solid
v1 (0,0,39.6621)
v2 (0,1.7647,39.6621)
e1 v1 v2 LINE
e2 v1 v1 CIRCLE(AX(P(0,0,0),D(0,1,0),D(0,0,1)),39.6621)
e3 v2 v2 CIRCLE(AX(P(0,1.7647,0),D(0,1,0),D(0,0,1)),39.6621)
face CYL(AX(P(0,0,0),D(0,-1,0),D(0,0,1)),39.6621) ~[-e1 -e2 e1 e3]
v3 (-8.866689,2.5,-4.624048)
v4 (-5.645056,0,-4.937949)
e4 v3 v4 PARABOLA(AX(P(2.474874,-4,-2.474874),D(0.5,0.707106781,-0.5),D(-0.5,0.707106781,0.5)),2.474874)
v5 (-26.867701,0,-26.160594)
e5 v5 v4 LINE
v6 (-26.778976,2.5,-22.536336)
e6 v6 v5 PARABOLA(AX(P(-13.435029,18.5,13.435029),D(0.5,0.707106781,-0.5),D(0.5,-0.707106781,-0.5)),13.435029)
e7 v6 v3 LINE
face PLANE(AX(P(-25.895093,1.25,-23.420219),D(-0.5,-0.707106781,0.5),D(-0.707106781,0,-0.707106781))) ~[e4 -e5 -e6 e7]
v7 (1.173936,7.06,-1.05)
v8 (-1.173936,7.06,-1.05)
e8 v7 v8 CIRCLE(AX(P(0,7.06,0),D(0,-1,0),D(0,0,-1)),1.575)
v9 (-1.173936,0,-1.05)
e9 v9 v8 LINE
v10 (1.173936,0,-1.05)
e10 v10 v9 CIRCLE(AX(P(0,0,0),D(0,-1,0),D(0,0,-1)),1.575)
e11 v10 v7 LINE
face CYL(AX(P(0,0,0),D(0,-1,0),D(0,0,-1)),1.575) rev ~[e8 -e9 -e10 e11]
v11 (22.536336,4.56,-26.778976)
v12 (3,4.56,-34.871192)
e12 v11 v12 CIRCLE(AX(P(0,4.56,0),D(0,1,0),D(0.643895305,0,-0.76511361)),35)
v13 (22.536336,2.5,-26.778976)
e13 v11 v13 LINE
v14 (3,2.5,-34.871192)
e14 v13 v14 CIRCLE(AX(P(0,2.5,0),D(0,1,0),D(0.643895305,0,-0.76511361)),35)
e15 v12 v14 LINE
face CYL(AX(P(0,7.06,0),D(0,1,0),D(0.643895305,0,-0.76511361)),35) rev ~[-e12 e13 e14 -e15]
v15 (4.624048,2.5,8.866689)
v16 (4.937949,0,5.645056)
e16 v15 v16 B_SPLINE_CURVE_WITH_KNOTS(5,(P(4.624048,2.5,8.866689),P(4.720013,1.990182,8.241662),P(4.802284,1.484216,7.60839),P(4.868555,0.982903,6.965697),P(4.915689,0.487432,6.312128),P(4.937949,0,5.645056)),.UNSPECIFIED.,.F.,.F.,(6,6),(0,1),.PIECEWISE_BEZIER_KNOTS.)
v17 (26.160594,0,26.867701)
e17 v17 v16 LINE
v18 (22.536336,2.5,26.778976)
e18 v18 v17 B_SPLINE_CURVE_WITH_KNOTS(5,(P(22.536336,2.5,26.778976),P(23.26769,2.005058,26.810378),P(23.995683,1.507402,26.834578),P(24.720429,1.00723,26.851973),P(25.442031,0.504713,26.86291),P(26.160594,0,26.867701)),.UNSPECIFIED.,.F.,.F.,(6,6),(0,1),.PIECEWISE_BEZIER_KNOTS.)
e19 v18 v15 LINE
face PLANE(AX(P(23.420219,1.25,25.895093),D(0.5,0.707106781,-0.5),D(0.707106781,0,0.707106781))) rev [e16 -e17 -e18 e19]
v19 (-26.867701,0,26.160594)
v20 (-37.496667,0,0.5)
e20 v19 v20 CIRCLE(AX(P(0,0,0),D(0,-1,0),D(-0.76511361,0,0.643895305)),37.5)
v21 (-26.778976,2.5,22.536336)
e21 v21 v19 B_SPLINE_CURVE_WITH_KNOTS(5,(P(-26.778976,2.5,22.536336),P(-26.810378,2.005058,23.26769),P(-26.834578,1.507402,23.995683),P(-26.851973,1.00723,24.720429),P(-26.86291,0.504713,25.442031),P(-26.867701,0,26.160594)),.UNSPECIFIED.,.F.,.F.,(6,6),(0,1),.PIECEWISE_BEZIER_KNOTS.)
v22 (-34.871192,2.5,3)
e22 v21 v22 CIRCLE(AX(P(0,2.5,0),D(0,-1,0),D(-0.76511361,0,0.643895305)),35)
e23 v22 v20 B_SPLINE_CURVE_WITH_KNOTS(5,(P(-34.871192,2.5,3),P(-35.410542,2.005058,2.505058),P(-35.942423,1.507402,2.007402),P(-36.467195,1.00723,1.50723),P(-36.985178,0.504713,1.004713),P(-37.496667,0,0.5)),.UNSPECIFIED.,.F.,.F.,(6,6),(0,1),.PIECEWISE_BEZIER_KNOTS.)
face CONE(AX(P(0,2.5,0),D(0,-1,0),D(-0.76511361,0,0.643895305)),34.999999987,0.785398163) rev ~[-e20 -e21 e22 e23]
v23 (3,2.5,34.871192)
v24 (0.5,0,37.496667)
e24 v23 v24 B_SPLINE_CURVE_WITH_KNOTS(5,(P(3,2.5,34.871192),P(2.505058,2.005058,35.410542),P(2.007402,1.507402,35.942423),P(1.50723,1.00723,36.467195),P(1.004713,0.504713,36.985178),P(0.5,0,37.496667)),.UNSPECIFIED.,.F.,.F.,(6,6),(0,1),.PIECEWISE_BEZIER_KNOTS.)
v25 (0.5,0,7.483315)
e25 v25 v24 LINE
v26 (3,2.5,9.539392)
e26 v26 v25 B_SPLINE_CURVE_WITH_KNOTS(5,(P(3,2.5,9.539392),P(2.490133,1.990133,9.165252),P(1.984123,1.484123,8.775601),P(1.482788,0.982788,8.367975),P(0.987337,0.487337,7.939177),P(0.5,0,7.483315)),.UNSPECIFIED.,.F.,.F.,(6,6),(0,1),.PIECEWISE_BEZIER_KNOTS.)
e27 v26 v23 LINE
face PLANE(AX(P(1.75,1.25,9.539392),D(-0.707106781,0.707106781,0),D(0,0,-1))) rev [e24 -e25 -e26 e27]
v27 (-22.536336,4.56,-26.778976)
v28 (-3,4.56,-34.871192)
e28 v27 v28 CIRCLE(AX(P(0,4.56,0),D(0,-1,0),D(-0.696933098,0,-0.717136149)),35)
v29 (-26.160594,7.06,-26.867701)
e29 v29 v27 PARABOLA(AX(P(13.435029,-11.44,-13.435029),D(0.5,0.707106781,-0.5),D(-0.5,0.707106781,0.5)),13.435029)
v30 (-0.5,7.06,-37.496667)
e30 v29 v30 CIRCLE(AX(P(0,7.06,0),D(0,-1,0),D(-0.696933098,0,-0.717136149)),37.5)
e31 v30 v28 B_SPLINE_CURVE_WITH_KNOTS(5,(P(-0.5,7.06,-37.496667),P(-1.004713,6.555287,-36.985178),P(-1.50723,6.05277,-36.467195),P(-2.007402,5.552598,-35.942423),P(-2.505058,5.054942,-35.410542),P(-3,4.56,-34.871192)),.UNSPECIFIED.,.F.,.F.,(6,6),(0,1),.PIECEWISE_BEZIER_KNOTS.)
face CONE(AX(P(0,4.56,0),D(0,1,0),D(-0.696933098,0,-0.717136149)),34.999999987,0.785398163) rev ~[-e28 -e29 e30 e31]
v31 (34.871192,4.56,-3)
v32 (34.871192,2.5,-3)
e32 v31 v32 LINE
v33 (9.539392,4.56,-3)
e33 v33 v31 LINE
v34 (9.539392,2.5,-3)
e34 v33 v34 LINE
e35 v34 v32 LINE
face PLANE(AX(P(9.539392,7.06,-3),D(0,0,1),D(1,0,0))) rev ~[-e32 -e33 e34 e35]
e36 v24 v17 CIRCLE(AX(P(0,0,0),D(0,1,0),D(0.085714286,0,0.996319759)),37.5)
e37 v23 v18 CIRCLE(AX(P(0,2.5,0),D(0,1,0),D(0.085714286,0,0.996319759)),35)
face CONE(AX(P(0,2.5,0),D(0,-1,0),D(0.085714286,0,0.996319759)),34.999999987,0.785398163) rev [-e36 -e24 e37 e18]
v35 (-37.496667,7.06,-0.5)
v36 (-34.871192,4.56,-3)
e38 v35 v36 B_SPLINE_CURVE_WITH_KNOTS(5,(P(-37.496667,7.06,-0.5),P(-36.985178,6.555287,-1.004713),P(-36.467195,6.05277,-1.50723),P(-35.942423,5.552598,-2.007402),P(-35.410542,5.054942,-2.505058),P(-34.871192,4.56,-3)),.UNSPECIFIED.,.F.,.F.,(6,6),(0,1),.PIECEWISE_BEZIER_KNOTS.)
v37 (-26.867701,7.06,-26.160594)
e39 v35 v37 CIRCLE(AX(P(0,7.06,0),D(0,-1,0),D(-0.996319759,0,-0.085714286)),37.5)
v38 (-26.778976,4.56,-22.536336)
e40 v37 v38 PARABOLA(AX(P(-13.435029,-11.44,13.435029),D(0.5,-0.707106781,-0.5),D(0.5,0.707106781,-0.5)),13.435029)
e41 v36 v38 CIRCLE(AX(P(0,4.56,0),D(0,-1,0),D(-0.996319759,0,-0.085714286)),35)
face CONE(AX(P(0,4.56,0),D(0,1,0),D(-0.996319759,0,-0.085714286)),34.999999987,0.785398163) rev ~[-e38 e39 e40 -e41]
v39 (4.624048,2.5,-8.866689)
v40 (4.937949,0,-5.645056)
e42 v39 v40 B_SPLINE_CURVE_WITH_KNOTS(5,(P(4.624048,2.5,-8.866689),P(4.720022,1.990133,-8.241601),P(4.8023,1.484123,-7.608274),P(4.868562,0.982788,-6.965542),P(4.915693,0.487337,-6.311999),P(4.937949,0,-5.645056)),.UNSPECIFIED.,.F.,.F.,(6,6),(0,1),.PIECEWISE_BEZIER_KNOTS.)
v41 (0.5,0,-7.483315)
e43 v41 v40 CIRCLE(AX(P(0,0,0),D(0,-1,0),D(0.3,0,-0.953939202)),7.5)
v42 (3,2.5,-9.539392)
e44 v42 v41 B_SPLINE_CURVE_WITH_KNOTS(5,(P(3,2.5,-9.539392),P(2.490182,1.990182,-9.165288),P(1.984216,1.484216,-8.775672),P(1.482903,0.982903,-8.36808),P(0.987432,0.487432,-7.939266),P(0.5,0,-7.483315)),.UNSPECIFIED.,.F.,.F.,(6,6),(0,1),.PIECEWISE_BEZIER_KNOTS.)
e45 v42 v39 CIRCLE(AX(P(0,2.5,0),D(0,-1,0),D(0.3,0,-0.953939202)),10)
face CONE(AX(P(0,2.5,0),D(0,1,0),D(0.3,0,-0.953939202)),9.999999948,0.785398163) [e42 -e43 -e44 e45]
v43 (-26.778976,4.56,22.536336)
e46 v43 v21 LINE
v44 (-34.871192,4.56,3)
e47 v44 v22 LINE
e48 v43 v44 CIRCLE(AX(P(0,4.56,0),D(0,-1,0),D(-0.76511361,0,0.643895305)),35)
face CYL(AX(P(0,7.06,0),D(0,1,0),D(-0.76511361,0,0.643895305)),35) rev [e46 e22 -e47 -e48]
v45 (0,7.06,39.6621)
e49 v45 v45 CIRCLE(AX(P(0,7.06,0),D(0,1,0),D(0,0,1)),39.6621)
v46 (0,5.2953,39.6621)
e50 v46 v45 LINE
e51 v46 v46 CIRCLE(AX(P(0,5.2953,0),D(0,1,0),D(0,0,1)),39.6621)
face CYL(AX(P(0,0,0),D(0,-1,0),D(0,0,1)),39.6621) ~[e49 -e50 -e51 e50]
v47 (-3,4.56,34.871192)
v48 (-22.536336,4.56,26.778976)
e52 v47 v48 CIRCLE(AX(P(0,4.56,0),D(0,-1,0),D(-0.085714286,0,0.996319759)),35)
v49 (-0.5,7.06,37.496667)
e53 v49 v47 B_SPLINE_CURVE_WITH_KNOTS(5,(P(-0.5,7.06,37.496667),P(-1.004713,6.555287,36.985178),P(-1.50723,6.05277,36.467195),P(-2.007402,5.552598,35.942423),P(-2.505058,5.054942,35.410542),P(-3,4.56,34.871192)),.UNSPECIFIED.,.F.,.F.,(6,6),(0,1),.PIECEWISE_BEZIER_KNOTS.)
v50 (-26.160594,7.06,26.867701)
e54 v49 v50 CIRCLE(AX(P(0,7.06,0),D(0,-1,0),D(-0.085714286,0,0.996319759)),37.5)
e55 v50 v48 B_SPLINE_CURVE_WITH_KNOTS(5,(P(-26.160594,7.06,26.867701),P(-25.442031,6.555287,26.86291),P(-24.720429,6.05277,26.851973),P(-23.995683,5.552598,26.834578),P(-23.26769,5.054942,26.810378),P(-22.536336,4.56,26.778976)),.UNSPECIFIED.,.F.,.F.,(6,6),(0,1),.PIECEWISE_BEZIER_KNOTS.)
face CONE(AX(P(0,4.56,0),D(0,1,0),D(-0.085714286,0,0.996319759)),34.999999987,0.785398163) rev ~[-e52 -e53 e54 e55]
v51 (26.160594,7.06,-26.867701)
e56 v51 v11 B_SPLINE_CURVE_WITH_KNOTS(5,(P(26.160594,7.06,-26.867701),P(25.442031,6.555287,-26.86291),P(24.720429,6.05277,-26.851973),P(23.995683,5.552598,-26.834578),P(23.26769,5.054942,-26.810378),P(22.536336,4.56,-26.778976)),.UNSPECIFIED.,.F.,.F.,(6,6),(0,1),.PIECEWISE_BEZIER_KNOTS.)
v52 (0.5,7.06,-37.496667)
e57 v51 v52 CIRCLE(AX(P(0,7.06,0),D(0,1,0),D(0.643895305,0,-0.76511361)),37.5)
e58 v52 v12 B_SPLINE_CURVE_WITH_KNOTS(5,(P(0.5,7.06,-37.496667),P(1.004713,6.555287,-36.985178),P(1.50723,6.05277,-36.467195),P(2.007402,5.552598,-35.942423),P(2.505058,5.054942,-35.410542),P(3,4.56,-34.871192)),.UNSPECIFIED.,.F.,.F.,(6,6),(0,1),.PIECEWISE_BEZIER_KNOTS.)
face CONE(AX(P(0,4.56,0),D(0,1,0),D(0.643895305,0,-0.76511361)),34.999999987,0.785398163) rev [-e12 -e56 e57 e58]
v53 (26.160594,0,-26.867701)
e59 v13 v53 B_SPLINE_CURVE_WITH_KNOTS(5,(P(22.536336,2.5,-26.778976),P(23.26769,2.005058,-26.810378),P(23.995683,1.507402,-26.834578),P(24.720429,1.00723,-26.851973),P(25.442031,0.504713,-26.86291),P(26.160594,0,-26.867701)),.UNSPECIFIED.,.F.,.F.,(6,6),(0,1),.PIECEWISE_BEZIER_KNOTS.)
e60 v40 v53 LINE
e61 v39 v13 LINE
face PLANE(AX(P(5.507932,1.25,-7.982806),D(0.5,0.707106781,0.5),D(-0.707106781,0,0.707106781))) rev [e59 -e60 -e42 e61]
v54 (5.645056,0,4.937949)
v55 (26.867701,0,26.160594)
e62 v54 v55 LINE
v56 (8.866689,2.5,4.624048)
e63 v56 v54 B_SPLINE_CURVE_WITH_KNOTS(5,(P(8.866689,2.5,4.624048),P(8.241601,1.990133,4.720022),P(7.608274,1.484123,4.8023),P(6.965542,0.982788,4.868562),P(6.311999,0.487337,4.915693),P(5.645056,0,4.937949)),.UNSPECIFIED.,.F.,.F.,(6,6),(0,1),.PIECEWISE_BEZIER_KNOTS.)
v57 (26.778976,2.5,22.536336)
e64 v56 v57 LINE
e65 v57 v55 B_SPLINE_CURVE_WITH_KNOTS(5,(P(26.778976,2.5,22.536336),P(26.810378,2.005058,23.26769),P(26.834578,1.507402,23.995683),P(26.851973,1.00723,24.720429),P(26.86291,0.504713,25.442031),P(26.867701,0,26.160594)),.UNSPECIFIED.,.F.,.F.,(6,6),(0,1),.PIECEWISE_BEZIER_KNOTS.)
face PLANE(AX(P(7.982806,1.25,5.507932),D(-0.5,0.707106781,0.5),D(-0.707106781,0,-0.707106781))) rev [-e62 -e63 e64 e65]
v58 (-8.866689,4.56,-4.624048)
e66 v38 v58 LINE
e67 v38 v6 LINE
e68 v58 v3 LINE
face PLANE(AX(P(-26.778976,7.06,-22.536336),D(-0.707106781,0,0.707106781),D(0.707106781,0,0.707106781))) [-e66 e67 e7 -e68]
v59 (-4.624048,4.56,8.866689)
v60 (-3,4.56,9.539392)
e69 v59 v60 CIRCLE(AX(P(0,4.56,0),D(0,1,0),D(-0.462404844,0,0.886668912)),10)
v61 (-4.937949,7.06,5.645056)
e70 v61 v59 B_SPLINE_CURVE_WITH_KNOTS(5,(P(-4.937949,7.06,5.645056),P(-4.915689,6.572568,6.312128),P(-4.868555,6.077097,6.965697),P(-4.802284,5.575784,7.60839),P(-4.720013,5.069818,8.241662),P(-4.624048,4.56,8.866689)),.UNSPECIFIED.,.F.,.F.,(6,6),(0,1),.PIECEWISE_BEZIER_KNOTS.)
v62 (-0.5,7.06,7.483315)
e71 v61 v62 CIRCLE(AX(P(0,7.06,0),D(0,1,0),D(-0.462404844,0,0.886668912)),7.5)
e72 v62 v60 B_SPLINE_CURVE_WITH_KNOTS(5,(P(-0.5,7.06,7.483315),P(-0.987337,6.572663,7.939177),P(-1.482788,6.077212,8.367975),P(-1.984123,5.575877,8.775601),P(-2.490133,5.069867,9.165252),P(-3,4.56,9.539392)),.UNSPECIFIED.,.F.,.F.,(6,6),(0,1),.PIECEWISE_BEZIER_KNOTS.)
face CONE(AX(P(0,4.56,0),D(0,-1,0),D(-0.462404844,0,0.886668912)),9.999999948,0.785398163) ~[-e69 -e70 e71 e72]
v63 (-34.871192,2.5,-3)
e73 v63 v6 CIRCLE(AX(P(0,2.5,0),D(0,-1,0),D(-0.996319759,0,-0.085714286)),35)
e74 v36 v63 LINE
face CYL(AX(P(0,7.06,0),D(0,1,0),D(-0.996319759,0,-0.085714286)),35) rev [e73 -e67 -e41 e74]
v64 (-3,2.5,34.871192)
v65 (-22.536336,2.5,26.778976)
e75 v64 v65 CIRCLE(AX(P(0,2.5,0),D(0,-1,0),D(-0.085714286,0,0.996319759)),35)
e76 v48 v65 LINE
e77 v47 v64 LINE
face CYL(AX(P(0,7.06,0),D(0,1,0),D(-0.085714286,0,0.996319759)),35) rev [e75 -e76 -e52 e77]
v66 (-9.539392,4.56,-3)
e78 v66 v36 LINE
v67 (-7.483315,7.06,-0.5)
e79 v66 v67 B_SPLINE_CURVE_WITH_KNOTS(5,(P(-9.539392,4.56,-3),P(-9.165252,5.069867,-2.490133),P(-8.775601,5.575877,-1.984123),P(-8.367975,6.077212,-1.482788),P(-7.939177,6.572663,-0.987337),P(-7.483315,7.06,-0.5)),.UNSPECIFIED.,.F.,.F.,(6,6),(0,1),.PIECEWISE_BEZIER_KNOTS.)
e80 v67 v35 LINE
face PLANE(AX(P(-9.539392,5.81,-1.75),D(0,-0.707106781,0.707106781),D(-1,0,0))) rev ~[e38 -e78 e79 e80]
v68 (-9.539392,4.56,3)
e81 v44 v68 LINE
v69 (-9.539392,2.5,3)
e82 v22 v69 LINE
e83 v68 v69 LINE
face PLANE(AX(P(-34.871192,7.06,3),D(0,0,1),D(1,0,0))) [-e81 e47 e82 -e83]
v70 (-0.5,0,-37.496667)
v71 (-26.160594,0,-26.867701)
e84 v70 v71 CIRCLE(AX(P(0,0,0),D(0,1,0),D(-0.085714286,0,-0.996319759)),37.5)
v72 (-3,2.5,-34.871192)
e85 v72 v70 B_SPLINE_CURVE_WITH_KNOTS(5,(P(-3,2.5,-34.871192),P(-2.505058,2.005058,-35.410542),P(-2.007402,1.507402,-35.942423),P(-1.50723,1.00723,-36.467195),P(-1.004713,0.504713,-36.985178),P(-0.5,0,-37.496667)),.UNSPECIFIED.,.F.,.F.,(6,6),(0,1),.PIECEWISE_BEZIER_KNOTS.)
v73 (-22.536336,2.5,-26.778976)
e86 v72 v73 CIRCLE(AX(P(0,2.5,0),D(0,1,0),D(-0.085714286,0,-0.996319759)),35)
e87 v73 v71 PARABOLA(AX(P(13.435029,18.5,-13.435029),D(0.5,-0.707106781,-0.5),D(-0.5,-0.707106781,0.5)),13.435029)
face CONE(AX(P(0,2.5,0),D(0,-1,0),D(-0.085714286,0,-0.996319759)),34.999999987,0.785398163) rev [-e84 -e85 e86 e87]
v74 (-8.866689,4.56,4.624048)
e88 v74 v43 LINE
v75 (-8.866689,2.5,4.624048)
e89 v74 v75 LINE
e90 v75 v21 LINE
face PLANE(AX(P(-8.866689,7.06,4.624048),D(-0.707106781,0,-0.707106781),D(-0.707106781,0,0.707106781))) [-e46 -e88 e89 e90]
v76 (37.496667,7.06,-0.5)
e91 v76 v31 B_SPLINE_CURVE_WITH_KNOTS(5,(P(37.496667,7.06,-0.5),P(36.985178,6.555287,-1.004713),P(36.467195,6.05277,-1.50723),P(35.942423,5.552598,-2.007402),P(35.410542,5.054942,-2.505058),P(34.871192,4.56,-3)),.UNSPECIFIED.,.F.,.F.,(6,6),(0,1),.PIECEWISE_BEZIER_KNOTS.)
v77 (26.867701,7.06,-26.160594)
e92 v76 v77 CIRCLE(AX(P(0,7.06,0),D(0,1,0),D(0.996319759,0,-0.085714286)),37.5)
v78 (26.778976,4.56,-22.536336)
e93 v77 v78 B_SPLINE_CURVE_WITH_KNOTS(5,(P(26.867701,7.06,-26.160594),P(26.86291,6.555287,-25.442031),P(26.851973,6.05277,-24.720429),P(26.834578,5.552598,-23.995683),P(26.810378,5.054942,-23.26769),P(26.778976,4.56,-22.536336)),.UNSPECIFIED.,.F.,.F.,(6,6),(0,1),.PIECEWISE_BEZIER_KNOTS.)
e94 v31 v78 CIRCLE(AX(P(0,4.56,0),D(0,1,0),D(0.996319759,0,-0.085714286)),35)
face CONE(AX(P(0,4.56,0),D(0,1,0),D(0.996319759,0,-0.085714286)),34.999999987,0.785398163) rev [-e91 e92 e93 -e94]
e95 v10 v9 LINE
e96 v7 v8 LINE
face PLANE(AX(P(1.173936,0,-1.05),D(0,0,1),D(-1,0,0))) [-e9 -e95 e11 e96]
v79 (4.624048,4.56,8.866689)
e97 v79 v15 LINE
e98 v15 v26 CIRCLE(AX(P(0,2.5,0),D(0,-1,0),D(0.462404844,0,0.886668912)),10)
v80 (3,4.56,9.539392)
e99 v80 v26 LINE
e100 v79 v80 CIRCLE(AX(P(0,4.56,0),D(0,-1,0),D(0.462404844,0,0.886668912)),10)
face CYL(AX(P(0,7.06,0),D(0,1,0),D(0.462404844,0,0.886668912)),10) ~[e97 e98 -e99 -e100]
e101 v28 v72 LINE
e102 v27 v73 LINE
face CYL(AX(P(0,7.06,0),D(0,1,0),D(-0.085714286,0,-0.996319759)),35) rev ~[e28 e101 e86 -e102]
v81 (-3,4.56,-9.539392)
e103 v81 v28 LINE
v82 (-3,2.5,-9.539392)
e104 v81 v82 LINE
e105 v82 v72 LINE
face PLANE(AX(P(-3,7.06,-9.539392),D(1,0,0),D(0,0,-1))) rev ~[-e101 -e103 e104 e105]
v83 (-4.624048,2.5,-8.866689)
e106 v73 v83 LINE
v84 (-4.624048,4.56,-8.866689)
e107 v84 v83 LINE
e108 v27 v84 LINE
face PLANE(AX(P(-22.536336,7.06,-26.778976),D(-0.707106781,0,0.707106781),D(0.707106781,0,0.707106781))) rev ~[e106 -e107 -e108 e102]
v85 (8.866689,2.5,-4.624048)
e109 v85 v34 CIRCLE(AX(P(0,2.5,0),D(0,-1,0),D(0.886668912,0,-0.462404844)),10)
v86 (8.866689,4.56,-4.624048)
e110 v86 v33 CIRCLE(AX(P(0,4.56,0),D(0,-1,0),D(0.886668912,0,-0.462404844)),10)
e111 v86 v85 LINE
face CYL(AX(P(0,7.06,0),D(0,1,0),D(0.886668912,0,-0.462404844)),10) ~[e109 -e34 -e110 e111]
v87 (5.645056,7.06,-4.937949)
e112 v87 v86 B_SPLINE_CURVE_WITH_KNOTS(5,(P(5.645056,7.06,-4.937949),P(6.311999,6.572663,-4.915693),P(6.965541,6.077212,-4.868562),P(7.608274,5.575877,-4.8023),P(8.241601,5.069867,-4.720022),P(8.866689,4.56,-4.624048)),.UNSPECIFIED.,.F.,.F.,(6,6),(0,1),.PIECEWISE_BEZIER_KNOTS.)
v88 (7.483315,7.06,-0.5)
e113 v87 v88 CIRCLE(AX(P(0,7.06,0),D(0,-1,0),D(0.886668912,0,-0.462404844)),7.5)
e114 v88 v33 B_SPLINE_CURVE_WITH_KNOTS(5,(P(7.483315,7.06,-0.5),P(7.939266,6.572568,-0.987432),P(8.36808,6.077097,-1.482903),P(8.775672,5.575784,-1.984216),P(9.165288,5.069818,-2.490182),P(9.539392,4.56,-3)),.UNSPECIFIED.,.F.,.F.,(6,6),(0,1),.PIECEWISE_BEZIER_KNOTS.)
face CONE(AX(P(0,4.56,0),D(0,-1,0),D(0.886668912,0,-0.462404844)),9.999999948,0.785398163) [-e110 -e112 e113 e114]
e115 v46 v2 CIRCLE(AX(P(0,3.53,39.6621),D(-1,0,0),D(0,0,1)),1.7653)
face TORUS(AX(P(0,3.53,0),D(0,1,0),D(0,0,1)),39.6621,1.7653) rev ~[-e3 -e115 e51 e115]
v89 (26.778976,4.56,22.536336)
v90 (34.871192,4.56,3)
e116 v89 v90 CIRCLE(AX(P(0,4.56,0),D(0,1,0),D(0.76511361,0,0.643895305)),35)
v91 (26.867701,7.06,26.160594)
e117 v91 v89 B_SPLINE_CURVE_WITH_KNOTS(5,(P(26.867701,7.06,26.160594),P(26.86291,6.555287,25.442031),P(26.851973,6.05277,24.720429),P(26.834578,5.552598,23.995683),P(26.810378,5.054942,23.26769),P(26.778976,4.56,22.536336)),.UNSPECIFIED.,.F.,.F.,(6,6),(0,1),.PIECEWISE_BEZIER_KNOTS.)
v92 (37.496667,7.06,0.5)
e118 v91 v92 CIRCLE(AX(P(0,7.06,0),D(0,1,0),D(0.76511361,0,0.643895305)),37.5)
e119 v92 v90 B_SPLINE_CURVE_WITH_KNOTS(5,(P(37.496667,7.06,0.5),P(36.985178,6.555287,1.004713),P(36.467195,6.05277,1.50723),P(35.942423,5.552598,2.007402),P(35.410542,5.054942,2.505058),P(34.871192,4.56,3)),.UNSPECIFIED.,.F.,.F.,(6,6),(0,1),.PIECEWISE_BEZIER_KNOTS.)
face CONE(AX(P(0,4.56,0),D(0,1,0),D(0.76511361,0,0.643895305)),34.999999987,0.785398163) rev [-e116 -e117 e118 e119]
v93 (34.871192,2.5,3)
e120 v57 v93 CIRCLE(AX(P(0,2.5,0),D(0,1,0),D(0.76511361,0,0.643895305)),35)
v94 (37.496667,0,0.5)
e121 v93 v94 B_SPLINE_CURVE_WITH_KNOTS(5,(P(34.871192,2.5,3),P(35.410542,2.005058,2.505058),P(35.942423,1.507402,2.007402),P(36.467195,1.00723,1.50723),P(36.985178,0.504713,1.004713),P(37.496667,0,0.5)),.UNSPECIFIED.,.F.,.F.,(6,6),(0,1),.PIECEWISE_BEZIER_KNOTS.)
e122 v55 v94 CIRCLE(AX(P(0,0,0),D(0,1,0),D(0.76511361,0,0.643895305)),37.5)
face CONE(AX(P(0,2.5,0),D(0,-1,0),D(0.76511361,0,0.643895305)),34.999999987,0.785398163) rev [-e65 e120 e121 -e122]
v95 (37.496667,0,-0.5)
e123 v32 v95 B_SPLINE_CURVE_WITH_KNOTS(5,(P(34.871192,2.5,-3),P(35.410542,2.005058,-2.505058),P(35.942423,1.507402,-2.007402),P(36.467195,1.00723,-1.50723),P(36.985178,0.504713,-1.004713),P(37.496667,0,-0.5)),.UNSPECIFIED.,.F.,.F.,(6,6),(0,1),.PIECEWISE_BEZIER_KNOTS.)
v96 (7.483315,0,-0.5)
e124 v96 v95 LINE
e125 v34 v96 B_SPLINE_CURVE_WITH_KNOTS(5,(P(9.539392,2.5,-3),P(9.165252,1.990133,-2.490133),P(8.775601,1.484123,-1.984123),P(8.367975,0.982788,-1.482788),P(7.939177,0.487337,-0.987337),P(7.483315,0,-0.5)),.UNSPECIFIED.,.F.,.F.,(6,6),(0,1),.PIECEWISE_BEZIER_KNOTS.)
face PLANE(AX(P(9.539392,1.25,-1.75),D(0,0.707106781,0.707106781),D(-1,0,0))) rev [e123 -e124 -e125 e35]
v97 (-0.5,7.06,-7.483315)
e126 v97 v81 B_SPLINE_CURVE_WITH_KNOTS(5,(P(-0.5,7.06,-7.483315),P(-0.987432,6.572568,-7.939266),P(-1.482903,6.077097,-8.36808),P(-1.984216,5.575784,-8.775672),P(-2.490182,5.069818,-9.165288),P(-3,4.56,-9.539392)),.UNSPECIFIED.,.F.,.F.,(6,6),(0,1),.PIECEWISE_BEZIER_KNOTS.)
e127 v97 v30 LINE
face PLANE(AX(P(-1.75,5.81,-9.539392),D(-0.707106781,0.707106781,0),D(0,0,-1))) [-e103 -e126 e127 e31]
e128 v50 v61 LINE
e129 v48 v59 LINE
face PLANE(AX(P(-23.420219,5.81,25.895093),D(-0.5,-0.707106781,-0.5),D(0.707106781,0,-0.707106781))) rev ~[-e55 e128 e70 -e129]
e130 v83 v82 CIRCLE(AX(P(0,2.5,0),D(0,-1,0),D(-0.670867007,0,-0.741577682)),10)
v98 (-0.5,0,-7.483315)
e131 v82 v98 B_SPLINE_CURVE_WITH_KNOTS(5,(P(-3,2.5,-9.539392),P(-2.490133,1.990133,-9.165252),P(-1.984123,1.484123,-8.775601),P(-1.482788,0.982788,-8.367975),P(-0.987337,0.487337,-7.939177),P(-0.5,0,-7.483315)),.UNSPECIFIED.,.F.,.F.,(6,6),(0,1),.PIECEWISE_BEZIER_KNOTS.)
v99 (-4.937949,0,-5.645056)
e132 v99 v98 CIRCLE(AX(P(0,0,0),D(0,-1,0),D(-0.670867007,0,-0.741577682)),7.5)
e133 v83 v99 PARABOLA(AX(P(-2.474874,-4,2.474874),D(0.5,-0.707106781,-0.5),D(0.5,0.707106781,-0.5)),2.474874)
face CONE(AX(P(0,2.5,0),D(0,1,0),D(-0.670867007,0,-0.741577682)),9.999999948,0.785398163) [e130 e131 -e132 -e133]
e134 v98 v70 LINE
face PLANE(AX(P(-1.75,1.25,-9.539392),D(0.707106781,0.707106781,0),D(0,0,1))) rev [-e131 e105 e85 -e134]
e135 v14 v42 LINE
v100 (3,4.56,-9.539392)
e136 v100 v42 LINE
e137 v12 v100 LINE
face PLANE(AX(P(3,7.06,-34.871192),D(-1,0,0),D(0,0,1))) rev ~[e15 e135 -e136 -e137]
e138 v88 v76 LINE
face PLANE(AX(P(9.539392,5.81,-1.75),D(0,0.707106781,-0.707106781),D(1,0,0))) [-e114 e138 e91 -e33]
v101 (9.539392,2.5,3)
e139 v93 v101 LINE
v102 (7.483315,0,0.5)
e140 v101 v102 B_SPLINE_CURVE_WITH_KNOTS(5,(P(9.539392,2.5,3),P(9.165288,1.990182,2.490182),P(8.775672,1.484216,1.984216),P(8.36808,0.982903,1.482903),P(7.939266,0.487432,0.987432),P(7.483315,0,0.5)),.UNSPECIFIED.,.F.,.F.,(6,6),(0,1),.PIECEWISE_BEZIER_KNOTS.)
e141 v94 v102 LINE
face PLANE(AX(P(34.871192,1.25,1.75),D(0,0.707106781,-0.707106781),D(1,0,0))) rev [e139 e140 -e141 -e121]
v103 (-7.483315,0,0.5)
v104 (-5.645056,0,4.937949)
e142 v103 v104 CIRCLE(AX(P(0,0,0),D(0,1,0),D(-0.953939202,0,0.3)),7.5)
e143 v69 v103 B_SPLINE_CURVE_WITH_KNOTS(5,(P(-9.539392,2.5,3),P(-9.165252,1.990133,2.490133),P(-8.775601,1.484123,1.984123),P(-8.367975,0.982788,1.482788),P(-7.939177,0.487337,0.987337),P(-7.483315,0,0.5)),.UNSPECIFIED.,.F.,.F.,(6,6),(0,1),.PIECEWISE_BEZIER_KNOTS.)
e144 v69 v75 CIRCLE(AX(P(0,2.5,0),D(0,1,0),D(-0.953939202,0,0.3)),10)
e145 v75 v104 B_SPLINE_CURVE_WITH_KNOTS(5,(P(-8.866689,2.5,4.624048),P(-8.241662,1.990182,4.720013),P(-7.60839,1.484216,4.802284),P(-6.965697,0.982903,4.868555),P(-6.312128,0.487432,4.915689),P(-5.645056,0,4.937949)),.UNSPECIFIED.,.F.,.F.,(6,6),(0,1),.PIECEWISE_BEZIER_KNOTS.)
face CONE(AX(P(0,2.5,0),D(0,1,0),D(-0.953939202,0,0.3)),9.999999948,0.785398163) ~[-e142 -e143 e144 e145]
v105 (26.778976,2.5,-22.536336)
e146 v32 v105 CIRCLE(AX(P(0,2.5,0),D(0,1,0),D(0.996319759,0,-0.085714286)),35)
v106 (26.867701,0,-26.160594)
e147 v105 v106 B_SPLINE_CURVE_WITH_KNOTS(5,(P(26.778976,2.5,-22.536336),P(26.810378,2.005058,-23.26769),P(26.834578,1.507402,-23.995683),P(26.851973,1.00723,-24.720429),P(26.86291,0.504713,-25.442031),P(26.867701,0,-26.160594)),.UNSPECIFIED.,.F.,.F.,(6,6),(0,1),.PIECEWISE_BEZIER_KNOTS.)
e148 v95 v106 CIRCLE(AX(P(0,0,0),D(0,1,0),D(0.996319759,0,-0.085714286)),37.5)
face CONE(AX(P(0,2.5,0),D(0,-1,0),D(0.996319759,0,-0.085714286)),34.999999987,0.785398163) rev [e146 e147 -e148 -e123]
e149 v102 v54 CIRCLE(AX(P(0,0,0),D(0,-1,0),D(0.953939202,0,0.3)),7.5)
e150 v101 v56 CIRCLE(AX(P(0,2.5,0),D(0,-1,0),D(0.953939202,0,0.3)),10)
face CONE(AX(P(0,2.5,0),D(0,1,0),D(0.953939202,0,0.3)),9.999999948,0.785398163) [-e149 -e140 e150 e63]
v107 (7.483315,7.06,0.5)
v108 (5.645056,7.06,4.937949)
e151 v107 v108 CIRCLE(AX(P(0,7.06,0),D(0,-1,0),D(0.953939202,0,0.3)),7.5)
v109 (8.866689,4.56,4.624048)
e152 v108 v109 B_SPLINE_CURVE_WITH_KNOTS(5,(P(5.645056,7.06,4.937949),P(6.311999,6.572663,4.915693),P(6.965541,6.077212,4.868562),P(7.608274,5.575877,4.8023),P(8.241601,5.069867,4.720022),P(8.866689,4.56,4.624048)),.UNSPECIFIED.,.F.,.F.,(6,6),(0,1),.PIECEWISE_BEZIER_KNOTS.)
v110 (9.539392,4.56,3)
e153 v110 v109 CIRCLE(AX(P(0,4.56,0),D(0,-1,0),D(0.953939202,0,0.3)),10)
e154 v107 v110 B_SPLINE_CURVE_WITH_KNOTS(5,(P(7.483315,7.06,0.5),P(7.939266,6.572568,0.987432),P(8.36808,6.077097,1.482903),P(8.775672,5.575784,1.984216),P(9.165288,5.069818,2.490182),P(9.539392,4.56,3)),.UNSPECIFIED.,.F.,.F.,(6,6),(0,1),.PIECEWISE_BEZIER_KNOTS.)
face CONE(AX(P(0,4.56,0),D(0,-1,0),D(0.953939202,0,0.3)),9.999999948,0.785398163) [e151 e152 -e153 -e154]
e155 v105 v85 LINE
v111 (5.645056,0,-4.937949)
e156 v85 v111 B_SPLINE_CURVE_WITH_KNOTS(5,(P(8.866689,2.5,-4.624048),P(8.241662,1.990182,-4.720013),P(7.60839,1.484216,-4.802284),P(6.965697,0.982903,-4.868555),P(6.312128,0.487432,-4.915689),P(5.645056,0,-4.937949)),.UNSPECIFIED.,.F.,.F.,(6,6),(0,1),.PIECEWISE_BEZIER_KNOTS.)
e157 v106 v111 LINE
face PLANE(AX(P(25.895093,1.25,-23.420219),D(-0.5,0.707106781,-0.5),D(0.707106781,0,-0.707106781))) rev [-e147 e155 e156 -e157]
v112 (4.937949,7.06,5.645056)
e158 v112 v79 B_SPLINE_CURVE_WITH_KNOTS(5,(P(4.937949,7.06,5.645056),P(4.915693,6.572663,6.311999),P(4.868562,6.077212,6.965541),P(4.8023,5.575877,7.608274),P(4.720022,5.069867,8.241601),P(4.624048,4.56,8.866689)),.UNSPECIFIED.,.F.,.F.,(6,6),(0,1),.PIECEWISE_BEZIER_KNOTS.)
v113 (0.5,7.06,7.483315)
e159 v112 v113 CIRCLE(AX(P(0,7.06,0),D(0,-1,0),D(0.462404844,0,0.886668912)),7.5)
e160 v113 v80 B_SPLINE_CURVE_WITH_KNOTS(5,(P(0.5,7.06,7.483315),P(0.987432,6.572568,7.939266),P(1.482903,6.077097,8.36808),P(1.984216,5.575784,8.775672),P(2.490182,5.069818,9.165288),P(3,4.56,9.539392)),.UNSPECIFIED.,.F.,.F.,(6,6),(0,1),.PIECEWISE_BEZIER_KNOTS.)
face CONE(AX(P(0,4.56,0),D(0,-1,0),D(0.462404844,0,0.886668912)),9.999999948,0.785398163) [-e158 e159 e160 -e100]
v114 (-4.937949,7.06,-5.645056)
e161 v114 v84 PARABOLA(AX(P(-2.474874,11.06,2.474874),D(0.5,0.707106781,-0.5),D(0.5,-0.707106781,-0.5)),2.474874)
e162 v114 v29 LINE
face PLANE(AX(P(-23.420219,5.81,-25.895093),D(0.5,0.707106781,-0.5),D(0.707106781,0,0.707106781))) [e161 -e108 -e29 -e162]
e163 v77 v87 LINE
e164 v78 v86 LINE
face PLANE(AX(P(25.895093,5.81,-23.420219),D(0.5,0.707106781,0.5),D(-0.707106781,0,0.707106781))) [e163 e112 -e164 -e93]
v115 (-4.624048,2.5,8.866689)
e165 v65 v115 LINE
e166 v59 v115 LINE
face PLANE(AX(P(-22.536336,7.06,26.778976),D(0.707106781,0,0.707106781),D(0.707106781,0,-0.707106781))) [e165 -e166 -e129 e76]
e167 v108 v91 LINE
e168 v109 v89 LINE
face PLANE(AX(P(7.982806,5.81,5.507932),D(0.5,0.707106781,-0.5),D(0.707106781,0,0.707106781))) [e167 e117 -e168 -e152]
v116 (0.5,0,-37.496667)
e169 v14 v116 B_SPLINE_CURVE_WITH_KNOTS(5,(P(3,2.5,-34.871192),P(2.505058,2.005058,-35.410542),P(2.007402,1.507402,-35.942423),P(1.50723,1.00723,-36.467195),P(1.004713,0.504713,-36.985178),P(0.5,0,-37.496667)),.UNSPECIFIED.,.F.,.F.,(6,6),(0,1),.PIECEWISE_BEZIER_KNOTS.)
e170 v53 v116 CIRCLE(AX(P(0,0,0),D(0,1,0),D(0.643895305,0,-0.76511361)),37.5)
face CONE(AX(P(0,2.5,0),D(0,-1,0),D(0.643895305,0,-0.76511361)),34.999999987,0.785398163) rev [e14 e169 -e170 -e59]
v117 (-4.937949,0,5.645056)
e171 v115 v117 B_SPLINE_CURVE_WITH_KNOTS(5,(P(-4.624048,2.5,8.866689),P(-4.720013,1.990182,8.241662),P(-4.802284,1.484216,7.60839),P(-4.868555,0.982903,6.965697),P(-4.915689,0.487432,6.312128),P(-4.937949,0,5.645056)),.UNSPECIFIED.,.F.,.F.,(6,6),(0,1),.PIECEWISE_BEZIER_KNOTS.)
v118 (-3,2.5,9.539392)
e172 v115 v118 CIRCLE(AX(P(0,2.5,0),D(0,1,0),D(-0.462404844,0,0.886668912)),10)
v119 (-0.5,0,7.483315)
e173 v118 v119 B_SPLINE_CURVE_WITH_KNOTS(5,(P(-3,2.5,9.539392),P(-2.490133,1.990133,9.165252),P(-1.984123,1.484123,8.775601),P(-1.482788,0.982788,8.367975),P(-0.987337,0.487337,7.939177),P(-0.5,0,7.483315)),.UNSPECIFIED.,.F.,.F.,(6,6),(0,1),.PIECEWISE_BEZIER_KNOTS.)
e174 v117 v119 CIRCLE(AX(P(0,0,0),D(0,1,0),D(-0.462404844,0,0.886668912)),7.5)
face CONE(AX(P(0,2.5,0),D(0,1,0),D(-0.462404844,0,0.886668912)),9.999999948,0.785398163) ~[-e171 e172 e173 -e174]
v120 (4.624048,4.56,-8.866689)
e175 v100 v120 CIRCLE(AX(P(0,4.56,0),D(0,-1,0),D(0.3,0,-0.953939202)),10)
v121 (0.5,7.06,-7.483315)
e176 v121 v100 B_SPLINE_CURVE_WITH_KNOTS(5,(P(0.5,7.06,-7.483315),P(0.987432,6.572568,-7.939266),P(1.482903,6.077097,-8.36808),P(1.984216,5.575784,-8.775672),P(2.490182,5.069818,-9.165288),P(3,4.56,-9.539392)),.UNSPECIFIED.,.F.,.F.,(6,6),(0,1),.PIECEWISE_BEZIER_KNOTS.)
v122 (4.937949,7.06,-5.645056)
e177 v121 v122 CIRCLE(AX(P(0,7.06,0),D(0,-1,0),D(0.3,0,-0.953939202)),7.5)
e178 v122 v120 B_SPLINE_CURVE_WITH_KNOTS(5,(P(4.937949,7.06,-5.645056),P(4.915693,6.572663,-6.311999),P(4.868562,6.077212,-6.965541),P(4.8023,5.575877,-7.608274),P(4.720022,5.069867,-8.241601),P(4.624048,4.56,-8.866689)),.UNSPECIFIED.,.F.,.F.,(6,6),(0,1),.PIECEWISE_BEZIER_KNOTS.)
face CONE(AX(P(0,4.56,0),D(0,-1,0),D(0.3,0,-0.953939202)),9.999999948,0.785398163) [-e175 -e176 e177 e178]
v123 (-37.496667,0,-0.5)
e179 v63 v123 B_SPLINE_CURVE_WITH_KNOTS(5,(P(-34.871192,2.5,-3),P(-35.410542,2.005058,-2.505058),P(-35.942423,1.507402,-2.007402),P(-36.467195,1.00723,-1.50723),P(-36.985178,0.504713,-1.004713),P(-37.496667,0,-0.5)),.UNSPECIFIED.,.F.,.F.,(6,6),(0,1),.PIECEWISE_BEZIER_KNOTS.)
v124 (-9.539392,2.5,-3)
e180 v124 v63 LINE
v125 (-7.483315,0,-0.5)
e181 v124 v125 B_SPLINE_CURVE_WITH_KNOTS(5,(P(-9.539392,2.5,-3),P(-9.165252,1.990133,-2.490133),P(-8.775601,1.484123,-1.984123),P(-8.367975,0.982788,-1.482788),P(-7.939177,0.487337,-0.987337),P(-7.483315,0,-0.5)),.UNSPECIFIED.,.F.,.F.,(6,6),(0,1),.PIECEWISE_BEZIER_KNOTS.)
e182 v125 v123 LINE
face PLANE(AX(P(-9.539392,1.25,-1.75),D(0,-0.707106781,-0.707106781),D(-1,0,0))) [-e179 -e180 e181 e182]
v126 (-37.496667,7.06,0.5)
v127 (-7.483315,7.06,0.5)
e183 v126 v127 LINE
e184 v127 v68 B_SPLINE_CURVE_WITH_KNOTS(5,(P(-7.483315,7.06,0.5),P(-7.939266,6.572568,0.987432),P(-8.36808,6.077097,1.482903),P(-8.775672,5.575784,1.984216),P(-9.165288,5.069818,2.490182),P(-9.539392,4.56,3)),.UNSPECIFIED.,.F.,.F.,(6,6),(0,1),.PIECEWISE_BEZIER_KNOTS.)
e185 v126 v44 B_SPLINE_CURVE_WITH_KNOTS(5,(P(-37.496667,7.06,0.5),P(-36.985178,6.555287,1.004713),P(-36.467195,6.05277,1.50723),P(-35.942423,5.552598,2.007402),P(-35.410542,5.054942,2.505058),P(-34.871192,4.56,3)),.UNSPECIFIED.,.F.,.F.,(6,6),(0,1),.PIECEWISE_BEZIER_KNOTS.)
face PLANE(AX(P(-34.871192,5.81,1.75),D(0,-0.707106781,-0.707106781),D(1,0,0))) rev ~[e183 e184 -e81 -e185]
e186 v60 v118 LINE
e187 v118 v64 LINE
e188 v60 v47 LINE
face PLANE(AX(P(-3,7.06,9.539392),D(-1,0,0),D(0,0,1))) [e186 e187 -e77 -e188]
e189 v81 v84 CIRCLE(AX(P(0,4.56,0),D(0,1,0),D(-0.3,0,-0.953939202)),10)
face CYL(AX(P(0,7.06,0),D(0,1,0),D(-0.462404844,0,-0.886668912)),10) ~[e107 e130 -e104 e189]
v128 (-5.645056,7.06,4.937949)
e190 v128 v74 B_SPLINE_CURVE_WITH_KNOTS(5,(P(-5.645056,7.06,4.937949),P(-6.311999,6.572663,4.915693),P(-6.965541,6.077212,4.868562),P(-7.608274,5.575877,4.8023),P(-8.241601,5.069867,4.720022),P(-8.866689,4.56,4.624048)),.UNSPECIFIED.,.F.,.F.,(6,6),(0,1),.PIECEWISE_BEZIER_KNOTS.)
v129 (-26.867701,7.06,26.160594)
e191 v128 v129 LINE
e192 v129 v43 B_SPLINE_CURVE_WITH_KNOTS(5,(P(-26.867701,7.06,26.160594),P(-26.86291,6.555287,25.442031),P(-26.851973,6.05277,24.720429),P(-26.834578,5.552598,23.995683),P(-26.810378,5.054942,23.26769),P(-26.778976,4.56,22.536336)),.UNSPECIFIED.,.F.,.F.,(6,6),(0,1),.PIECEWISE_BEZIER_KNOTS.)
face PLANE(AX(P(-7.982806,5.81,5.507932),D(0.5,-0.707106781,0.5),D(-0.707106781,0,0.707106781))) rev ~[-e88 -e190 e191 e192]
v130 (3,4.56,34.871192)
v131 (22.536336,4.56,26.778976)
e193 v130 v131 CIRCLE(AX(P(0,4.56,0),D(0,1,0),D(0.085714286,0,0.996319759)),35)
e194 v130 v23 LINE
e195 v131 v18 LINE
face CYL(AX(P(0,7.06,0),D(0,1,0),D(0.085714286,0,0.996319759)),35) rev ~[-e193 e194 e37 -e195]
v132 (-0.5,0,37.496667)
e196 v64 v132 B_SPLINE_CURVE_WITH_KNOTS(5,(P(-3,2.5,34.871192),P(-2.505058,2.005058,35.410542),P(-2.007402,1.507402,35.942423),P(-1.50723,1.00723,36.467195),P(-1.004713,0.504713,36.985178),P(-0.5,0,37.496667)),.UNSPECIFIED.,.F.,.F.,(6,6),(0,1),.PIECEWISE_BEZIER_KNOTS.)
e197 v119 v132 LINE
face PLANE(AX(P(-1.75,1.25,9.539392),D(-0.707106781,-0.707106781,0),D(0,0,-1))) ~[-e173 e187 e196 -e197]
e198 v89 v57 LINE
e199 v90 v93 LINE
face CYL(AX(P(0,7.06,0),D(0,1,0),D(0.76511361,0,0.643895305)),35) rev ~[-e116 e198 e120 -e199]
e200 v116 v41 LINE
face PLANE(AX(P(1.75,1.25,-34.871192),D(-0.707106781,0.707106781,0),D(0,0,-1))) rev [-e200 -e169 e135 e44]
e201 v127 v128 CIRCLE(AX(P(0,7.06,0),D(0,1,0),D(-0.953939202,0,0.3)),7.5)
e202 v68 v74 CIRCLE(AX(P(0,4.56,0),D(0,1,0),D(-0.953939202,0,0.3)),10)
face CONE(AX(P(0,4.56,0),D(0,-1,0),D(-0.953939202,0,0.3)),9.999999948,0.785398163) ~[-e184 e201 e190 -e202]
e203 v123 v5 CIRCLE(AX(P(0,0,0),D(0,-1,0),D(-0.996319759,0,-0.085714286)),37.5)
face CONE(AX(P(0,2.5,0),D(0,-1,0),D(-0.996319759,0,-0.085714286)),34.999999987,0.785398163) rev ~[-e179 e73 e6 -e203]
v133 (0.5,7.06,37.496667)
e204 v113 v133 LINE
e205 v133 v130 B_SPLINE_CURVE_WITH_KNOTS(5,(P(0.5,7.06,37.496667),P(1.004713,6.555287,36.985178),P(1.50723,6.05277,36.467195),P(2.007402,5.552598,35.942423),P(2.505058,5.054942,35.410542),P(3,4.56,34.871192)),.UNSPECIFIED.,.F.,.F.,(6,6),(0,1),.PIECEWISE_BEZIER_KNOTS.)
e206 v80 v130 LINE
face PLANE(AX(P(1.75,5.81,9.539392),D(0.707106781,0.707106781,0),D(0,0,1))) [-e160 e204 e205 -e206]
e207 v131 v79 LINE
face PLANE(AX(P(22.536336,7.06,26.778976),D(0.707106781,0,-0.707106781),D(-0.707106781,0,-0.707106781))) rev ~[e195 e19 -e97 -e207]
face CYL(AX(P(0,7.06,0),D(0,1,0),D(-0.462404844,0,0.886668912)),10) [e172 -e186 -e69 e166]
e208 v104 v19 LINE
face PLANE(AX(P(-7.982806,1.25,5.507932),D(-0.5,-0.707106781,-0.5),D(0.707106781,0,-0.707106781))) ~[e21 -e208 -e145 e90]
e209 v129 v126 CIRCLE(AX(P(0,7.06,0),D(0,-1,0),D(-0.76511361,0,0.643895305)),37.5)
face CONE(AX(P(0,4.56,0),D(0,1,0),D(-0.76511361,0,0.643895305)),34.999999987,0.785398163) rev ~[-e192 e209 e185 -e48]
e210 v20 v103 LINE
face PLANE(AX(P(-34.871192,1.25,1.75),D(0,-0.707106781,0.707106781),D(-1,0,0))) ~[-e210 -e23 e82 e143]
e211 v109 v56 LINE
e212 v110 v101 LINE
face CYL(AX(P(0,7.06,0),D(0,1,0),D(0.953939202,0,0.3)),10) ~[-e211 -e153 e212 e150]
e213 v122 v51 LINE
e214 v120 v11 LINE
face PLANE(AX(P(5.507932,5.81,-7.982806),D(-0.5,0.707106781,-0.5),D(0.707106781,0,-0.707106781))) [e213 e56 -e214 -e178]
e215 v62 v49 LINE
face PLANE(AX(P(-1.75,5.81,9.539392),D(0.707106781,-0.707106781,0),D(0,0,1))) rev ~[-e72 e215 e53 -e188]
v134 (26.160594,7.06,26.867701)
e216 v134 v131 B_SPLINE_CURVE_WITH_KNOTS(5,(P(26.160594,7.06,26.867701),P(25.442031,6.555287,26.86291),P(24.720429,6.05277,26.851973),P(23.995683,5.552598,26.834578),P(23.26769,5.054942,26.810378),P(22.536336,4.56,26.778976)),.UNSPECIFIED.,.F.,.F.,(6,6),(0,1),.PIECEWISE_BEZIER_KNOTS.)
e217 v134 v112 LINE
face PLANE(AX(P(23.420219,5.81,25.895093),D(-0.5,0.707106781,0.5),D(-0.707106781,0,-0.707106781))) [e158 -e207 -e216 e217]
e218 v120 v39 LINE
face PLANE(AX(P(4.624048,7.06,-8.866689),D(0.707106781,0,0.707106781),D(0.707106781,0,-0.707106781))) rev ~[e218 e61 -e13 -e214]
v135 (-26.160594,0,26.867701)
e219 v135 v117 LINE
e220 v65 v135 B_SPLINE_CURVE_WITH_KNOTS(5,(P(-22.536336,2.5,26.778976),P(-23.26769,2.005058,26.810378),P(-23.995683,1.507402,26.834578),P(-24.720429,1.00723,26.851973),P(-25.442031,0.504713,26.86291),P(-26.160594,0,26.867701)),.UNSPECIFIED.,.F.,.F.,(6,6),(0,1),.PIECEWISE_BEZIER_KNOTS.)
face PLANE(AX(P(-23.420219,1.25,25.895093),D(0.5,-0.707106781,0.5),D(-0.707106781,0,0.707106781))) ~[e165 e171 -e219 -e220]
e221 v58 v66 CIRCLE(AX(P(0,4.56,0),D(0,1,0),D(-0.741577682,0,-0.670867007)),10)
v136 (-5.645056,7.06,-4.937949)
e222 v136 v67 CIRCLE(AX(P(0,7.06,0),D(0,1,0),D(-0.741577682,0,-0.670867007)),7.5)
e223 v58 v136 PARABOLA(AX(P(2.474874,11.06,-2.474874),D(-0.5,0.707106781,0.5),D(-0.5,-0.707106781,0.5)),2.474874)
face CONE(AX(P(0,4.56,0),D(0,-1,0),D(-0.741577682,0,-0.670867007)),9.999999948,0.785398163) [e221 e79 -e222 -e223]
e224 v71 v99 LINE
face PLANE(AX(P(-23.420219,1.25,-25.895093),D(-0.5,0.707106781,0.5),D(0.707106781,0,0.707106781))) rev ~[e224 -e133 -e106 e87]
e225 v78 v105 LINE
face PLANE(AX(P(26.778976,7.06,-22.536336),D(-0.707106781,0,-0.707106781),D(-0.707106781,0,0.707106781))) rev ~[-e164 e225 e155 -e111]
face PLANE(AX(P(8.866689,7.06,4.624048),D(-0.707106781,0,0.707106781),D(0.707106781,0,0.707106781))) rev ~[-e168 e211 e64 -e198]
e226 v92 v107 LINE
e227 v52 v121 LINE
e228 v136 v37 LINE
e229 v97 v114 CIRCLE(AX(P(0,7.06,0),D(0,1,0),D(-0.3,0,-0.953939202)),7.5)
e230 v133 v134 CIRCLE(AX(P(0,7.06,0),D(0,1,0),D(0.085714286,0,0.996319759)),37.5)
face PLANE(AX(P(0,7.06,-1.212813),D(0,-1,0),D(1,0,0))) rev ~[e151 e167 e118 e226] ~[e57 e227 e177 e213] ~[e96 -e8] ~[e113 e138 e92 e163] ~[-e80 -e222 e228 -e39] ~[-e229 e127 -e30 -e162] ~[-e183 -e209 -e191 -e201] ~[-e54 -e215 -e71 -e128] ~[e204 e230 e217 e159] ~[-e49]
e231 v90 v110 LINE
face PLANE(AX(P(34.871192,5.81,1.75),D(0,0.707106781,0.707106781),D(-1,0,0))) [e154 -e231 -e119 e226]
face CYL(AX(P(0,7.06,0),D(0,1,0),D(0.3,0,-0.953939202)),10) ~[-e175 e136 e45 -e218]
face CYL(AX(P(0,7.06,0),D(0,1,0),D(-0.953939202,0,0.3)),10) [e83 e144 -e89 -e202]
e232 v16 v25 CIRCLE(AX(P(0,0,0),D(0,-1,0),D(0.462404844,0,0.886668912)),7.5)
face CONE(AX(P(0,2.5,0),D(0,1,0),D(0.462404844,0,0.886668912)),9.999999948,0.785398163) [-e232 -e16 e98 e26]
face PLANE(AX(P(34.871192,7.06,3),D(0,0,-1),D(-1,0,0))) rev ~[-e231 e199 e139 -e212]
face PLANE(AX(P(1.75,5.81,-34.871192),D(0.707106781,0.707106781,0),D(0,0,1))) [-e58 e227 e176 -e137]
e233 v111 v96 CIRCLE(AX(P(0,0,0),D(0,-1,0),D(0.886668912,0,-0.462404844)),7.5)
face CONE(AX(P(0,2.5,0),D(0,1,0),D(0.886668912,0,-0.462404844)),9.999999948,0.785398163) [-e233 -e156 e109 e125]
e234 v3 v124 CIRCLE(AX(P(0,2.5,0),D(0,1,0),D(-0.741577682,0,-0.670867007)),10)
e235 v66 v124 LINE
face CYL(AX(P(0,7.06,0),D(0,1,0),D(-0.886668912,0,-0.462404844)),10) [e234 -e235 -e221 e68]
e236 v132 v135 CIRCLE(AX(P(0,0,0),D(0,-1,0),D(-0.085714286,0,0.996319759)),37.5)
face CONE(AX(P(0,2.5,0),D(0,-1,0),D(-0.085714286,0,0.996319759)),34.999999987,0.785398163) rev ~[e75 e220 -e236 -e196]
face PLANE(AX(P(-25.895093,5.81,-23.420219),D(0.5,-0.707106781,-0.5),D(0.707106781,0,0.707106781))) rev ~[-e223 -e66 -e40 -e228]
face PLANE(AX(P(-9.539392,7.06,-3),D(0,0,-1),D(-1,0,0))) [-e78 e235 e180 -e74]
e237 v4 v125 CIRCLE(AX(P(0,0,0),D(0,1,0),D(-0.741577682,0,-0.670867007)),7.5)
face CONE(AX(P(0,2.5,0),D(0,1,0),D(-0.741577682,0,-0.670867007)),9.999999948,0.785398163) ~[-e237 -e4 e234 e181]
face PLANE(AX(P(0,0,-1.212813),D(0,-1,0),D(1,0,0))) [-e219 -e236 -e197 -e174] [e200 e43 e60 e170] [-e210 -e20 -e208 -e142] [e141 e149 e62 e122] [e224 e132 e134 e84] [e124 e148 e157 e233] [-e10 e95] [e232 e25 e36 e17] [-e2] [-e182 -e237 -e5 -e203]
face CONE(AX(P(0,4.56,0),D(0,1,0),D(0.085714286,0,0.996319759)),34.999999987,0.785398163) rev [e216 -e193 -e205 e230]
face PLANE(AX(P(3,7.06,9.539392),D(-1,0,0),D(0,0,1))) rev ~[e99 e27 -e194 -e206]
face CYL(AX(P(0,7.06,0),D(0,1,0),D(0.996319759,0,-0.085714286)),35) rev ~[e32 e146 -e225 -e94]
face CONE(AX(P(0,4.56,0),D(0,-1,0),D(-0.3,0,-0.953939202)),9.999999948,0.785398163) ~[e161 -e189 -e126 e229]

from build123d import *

# Parameters (mm, degrees)
SKETCH1_R           = 39.6621
BOSS_EXTRUDE2_DEPTH = 7.06
SKETCH5_R           = 1.7653
SKETCH7_R           = 1.575
CUT_EXTRUDE1_DEPTH  = 7.06
BOSS_EXTRUDE4_DEPTH = 7.06
CUT_EXTRUDE2_DEPTH  = 7.06
CHAMFER9_SIZE       = 2.5
CHAMFER10_SIZE      = 2.5
CHAMFER11_SIZE      = 2.5
CHAMFER12_SIZE      = 2.5


with BuildPart() as part:
    # Sketch1 → Boss-Extrude2 (new body)
    with BuildSketch(Plane(origin=(0, 0, 0), x_dir=(1, 0, 0), z_dir=(0, 1, 0))):
        with Locations(Location((0, 0, 0), (0, 0, 270))):
            Circle(SKETCH1_R)
    extrude(amount=BOSS_EXTRUDE2_DEPTH)

    # Sketch5 → Cut-Revolve1 (revolve, cut)
    with BuildSketch(Plane(origin=(0, 0, 0), x_dir=(0, 0, -1), z_dir=(1, 0, 0)), mode=Mode.PRIVATE) as cut_revolve1_sk:
        with Locations((39.6621, 3.53)):
            Circle(SKETCH5_R)
    revolve(cut_revolve1_sk.sketch.rotate(Axis((0, 3.53, 0), (0, 1, 0)), 180), axis=Axis((0, 3.53, 0), (0, 1, 0)), mode=Mode.SUBTRACT)

    # Sketch7 → Cut-Extrude1 (cut)
    with BuildSketch(Plane.XZ):
        with Locations(Location((0, 0, 0), (0, 0, 270))):
            Circle(SKETCH7_R)
    extrude(amount=-CUT_EXTRUDE1_DEPTH, mode=Mode.SUBTRACT)

    # Sketch8 → Boss-Extrude4 (add)
    with BuildSketch(Plane.XZ):
        with BuildLine():
            Line((1.173935688, -1.05), (-1.173935688, -1.05))
            ThreePointArc((-1.173935688, -1.05), (0, -1.575), (1.173935688, -1.05))
        make_face()
    extrude(amount=-BOSS_EXTRUDE4_DEPTH)

    # Sketch9 → Cut-Extrude2 (cut)
    with BuildSketch(Plane(origin=(0, 7.06, 0), x_dir=(1, 0, 0), z_dir=(0, 1, 0))):
        with BuildLine():
            Line((-26.778976355, 22.536335668), (-8.866689125, 4.624048438))
            ThreePointArc((-8.866689125, 4.624048438), (-9.238795325, 3.826834324), (-9.539392014, 3))
            Line((-9.539392014, 3), (-34.871191548, 3))
            ThreePointArc((-34.871191548, 3), (-32.335783638, 13.393920133), (-26.778976355, 22.536335668))
        make_face()
        with BuildLine():
            Line((-34.871191548, -3), (-9.539392014, -3))
            ThreePointArc((-9.539392014, -3), (-9.238795325, -3.826834324), (-8.866689125, -4.624048438))
            Line((-8.866689125, -4.624048438), (-26.778976355, -22.536335668))
            ThreePointArc((-26.778976355, -22.536335668), (-32.335783638, -13.393920133), (-34.871191548, -3))
        make_face()
        with BuildLine():
            Line((-22.536335668, -26.778976355), (-4.624048438, -8.866689125))
            ThreePointArc((-4.624048438, -8.866689125), (-3.826834324, -9.238795325), (-3, -9.539392014))
            Line((-3, -9.539392014), (-3, -34.871191548))
            ThreePointArc((-3, -34.871191548), (-13.393920133, -32.335783638), (-22.536335668, -26.778976355))
        make_face()
        with BuildLine():
            Line((3, -9.539392014), (3, -34.871191548))
            ThreePointArc((3, -34.871191548), (13.393920133, -32.335783638), (22.536335668, -26.778976355))
            Line((22.536335668, -26.778976355), (4.624048438, -8.866689125))
            ThreePointArc((4.624048438, -8.866689125), (3.826834324, -9.238795325), (3, -9.539392014))
        make_face()
        with BuildLine():
            Line((8.866689125, -4.624048438), (26.778976355, -22.536335668))
            ThreePointArc((26.778976355, -22.536335668), (32.335783638, -13.393920133), (34.871191548, -3))
            Line((34.871191548, -3), (9.539392014, -3))
            ThreePointArc((9.539392014, -3), (9.238795325, -3.826834324), (8.866689125, -4.624048438))
        make_face()
        with BuildLine():
            Line((9.539392014, 3), (34.871191548, 3))
            ThreePointArc((34.871191548, 3), (32.335783638, 13.393920133), (26.778976355, 22.536335668))
            Line((26.778976355, 22.536335668), (8.866689125, 4.624048438))
            ThreePointArc((8.866689125, 4.624048438), (9.238795325, 3.826834324), (9.539392014, 3))
        make_face()
        with BuildLine():
            Line((3, 34.871191548), (3, 9.539392014))
            ThreePointArc((3, 9.539392014), (3.826834324, 9.238795325), (4.624048438, 8.866689125))
            Line((4.624048438, 8.866689125), (22.536335668, 26.778976355))
            ThreePointArc((22.536335668, 26.778976355), (13.393920133, 32.335783638), (3, 34.871191548))
        make_face()
        with BuildLine():
            Line((-22.536335668, 26.778976355), (-4.624048438, 8.866689125))
            ThreePointArc((-4.624048438, 8.866689125), (-3.826834324, 9.238795325), (-3, 9.539392014))
            Line((-3, 9.539392014), (-3, 34.871191548))
            ThreePointArc((-3, 34.871191548), (-13.393920133, 32.335783638), (-22.536335668, 26.778976355))
        make_face()
    extrude(amount=-CUT_EXTRUDE2_DEPTH, mode=Mode.SUBTRACT)

    # Chamfer9
    chamfer9_edges = [part.edges().sort_by_distance(p)[0] for p in [
        (-13.580192053, 7.06, -17.82283274),
        (-17.82283274, 7.06, -13.580192053),
    ]]
    chamfer(chamfer9_edges, length=CHAMFER9_SIZE)

    # Chamfer10
    chamfer10_edges = [part.edges().sort_by_distance(p)[0] for p in [
        (-13.580192053, 0, -17.82283274),
        (-17.82283274, 0, -13.580192053),
    ]]
    chamfer(chamfer10_edges, length=CHAMFER10_SIZE)

    # Chamfer11
    chamfer11_edges = [part.edges().sort_by_distance(p)[0] for p in [
        (-9.238795325, 7.06, 3.826834324),
        (-22.205291781, 7.06, 3),
        (-32.335783638, 7.06, 13.393920133),
        (-17.82283274, 7.06, 13.580192053),
        (-3.826834324, 7.06, 9.238795325),
        (-13.580192053, 7.06, 17.82283274),
        (-13.393920133, 7.06, 32.335783638),
        (-3, 7.06, 22.205291781),
        (13.393920133, 7.06, 32.335783638),
        (3, 7.06, 22.205291781),
        (3.826834324, 7.06, 9.238795325),
        (13.580192053, 7.06, 17.82283274),
        (9.238795325, 7.06, 3.826834324),
        (17.82283274, 7.06, 13.580192053),
        (32.335783638, 7.06, 13.393920133),
        (22.205291781, 7.06, 3),
        (32.335783638, 7.06, -13.393920133),
        (22.205291781, 7.06, -3),
        (17.82283274, 7.06, -13.580192053),
        (9.238795325, 7.06, -3.826834324),
        (3.826834324, 7.06, -9.238795325),
        (13.580192053, 7.06, -17.82283274),
        (13.393920133, 7.06, -32.335783638),
        (3, 7.06, -22.205291781),
        (-14.541651461, 7.06, -31.836148837),
        (-3, 7.06, -22.205291781),
        (-4.969104941, 7.06, -8.678017981),
        (-8.678017981, 7.06, -4.969104941),
        (-22.205291781, 7.06, -3),
        (-31.836148837, 7.06, -14.541651461),
    ]]
    chamfer(chamfer11_edges, length=CHAMFER11_SIZE)

    # Chamfer12
    chamfer12_edges = [part.edges().sort_by_distance(p)[0] for p in [
        (3.826834324, 0, -9.238795325),
        (13.580192053, 0, -17.82283274),
        (13.393920133, 0, -32.335783638),
        (3, 0, -22.205291781),
        (-14.541651461, 0, -31.836148837),
        (-4.969104941, 0, -8.678017981),
        (-3, 0, -22.205291781),
        (-8.678017981, 0, -4.969104941),
        (-31.836148837, 0, -14.541651461),
        (-22.205291781, 0, -3),
        (-17.82283274, 0, 13.580192053),
        (-9.238795325, 0, 3.826834324),
        (-32.335783638, 0, 13.393920133),
        (-22.205291781, 0, 3),
        (-3.826834324, 0, 9.238795325),
        (-13.580192053, 0, 17.82283274),
        (-13.393920133, 0, 32.335783638),
        (-3, 0, 22.205291781),
        (3.826834324, 0, 9.238795325),
        (3, 0, 22.205291781),
        (13.393920133, 0, 32.335783638),
        (13.580192053, 0, 17.82283274),
        (9.238795325, 0, 3.826834324),
        (17.82283274, 0, 13.580192053),
        (32.335783638, 0, 13.393920133),
        (22.205291781, 0, 3),
        (9.238795325, 0, -3.826834324),
        (17.82283274, 0, -13.580192053),
        (22.205291781, 0, -3),
        (32.335783638, 0, -13.393920133),
    ]]
    chamfer(chamfer12_edges, length=CHAMFER12_SIZE)


solid = part.part
